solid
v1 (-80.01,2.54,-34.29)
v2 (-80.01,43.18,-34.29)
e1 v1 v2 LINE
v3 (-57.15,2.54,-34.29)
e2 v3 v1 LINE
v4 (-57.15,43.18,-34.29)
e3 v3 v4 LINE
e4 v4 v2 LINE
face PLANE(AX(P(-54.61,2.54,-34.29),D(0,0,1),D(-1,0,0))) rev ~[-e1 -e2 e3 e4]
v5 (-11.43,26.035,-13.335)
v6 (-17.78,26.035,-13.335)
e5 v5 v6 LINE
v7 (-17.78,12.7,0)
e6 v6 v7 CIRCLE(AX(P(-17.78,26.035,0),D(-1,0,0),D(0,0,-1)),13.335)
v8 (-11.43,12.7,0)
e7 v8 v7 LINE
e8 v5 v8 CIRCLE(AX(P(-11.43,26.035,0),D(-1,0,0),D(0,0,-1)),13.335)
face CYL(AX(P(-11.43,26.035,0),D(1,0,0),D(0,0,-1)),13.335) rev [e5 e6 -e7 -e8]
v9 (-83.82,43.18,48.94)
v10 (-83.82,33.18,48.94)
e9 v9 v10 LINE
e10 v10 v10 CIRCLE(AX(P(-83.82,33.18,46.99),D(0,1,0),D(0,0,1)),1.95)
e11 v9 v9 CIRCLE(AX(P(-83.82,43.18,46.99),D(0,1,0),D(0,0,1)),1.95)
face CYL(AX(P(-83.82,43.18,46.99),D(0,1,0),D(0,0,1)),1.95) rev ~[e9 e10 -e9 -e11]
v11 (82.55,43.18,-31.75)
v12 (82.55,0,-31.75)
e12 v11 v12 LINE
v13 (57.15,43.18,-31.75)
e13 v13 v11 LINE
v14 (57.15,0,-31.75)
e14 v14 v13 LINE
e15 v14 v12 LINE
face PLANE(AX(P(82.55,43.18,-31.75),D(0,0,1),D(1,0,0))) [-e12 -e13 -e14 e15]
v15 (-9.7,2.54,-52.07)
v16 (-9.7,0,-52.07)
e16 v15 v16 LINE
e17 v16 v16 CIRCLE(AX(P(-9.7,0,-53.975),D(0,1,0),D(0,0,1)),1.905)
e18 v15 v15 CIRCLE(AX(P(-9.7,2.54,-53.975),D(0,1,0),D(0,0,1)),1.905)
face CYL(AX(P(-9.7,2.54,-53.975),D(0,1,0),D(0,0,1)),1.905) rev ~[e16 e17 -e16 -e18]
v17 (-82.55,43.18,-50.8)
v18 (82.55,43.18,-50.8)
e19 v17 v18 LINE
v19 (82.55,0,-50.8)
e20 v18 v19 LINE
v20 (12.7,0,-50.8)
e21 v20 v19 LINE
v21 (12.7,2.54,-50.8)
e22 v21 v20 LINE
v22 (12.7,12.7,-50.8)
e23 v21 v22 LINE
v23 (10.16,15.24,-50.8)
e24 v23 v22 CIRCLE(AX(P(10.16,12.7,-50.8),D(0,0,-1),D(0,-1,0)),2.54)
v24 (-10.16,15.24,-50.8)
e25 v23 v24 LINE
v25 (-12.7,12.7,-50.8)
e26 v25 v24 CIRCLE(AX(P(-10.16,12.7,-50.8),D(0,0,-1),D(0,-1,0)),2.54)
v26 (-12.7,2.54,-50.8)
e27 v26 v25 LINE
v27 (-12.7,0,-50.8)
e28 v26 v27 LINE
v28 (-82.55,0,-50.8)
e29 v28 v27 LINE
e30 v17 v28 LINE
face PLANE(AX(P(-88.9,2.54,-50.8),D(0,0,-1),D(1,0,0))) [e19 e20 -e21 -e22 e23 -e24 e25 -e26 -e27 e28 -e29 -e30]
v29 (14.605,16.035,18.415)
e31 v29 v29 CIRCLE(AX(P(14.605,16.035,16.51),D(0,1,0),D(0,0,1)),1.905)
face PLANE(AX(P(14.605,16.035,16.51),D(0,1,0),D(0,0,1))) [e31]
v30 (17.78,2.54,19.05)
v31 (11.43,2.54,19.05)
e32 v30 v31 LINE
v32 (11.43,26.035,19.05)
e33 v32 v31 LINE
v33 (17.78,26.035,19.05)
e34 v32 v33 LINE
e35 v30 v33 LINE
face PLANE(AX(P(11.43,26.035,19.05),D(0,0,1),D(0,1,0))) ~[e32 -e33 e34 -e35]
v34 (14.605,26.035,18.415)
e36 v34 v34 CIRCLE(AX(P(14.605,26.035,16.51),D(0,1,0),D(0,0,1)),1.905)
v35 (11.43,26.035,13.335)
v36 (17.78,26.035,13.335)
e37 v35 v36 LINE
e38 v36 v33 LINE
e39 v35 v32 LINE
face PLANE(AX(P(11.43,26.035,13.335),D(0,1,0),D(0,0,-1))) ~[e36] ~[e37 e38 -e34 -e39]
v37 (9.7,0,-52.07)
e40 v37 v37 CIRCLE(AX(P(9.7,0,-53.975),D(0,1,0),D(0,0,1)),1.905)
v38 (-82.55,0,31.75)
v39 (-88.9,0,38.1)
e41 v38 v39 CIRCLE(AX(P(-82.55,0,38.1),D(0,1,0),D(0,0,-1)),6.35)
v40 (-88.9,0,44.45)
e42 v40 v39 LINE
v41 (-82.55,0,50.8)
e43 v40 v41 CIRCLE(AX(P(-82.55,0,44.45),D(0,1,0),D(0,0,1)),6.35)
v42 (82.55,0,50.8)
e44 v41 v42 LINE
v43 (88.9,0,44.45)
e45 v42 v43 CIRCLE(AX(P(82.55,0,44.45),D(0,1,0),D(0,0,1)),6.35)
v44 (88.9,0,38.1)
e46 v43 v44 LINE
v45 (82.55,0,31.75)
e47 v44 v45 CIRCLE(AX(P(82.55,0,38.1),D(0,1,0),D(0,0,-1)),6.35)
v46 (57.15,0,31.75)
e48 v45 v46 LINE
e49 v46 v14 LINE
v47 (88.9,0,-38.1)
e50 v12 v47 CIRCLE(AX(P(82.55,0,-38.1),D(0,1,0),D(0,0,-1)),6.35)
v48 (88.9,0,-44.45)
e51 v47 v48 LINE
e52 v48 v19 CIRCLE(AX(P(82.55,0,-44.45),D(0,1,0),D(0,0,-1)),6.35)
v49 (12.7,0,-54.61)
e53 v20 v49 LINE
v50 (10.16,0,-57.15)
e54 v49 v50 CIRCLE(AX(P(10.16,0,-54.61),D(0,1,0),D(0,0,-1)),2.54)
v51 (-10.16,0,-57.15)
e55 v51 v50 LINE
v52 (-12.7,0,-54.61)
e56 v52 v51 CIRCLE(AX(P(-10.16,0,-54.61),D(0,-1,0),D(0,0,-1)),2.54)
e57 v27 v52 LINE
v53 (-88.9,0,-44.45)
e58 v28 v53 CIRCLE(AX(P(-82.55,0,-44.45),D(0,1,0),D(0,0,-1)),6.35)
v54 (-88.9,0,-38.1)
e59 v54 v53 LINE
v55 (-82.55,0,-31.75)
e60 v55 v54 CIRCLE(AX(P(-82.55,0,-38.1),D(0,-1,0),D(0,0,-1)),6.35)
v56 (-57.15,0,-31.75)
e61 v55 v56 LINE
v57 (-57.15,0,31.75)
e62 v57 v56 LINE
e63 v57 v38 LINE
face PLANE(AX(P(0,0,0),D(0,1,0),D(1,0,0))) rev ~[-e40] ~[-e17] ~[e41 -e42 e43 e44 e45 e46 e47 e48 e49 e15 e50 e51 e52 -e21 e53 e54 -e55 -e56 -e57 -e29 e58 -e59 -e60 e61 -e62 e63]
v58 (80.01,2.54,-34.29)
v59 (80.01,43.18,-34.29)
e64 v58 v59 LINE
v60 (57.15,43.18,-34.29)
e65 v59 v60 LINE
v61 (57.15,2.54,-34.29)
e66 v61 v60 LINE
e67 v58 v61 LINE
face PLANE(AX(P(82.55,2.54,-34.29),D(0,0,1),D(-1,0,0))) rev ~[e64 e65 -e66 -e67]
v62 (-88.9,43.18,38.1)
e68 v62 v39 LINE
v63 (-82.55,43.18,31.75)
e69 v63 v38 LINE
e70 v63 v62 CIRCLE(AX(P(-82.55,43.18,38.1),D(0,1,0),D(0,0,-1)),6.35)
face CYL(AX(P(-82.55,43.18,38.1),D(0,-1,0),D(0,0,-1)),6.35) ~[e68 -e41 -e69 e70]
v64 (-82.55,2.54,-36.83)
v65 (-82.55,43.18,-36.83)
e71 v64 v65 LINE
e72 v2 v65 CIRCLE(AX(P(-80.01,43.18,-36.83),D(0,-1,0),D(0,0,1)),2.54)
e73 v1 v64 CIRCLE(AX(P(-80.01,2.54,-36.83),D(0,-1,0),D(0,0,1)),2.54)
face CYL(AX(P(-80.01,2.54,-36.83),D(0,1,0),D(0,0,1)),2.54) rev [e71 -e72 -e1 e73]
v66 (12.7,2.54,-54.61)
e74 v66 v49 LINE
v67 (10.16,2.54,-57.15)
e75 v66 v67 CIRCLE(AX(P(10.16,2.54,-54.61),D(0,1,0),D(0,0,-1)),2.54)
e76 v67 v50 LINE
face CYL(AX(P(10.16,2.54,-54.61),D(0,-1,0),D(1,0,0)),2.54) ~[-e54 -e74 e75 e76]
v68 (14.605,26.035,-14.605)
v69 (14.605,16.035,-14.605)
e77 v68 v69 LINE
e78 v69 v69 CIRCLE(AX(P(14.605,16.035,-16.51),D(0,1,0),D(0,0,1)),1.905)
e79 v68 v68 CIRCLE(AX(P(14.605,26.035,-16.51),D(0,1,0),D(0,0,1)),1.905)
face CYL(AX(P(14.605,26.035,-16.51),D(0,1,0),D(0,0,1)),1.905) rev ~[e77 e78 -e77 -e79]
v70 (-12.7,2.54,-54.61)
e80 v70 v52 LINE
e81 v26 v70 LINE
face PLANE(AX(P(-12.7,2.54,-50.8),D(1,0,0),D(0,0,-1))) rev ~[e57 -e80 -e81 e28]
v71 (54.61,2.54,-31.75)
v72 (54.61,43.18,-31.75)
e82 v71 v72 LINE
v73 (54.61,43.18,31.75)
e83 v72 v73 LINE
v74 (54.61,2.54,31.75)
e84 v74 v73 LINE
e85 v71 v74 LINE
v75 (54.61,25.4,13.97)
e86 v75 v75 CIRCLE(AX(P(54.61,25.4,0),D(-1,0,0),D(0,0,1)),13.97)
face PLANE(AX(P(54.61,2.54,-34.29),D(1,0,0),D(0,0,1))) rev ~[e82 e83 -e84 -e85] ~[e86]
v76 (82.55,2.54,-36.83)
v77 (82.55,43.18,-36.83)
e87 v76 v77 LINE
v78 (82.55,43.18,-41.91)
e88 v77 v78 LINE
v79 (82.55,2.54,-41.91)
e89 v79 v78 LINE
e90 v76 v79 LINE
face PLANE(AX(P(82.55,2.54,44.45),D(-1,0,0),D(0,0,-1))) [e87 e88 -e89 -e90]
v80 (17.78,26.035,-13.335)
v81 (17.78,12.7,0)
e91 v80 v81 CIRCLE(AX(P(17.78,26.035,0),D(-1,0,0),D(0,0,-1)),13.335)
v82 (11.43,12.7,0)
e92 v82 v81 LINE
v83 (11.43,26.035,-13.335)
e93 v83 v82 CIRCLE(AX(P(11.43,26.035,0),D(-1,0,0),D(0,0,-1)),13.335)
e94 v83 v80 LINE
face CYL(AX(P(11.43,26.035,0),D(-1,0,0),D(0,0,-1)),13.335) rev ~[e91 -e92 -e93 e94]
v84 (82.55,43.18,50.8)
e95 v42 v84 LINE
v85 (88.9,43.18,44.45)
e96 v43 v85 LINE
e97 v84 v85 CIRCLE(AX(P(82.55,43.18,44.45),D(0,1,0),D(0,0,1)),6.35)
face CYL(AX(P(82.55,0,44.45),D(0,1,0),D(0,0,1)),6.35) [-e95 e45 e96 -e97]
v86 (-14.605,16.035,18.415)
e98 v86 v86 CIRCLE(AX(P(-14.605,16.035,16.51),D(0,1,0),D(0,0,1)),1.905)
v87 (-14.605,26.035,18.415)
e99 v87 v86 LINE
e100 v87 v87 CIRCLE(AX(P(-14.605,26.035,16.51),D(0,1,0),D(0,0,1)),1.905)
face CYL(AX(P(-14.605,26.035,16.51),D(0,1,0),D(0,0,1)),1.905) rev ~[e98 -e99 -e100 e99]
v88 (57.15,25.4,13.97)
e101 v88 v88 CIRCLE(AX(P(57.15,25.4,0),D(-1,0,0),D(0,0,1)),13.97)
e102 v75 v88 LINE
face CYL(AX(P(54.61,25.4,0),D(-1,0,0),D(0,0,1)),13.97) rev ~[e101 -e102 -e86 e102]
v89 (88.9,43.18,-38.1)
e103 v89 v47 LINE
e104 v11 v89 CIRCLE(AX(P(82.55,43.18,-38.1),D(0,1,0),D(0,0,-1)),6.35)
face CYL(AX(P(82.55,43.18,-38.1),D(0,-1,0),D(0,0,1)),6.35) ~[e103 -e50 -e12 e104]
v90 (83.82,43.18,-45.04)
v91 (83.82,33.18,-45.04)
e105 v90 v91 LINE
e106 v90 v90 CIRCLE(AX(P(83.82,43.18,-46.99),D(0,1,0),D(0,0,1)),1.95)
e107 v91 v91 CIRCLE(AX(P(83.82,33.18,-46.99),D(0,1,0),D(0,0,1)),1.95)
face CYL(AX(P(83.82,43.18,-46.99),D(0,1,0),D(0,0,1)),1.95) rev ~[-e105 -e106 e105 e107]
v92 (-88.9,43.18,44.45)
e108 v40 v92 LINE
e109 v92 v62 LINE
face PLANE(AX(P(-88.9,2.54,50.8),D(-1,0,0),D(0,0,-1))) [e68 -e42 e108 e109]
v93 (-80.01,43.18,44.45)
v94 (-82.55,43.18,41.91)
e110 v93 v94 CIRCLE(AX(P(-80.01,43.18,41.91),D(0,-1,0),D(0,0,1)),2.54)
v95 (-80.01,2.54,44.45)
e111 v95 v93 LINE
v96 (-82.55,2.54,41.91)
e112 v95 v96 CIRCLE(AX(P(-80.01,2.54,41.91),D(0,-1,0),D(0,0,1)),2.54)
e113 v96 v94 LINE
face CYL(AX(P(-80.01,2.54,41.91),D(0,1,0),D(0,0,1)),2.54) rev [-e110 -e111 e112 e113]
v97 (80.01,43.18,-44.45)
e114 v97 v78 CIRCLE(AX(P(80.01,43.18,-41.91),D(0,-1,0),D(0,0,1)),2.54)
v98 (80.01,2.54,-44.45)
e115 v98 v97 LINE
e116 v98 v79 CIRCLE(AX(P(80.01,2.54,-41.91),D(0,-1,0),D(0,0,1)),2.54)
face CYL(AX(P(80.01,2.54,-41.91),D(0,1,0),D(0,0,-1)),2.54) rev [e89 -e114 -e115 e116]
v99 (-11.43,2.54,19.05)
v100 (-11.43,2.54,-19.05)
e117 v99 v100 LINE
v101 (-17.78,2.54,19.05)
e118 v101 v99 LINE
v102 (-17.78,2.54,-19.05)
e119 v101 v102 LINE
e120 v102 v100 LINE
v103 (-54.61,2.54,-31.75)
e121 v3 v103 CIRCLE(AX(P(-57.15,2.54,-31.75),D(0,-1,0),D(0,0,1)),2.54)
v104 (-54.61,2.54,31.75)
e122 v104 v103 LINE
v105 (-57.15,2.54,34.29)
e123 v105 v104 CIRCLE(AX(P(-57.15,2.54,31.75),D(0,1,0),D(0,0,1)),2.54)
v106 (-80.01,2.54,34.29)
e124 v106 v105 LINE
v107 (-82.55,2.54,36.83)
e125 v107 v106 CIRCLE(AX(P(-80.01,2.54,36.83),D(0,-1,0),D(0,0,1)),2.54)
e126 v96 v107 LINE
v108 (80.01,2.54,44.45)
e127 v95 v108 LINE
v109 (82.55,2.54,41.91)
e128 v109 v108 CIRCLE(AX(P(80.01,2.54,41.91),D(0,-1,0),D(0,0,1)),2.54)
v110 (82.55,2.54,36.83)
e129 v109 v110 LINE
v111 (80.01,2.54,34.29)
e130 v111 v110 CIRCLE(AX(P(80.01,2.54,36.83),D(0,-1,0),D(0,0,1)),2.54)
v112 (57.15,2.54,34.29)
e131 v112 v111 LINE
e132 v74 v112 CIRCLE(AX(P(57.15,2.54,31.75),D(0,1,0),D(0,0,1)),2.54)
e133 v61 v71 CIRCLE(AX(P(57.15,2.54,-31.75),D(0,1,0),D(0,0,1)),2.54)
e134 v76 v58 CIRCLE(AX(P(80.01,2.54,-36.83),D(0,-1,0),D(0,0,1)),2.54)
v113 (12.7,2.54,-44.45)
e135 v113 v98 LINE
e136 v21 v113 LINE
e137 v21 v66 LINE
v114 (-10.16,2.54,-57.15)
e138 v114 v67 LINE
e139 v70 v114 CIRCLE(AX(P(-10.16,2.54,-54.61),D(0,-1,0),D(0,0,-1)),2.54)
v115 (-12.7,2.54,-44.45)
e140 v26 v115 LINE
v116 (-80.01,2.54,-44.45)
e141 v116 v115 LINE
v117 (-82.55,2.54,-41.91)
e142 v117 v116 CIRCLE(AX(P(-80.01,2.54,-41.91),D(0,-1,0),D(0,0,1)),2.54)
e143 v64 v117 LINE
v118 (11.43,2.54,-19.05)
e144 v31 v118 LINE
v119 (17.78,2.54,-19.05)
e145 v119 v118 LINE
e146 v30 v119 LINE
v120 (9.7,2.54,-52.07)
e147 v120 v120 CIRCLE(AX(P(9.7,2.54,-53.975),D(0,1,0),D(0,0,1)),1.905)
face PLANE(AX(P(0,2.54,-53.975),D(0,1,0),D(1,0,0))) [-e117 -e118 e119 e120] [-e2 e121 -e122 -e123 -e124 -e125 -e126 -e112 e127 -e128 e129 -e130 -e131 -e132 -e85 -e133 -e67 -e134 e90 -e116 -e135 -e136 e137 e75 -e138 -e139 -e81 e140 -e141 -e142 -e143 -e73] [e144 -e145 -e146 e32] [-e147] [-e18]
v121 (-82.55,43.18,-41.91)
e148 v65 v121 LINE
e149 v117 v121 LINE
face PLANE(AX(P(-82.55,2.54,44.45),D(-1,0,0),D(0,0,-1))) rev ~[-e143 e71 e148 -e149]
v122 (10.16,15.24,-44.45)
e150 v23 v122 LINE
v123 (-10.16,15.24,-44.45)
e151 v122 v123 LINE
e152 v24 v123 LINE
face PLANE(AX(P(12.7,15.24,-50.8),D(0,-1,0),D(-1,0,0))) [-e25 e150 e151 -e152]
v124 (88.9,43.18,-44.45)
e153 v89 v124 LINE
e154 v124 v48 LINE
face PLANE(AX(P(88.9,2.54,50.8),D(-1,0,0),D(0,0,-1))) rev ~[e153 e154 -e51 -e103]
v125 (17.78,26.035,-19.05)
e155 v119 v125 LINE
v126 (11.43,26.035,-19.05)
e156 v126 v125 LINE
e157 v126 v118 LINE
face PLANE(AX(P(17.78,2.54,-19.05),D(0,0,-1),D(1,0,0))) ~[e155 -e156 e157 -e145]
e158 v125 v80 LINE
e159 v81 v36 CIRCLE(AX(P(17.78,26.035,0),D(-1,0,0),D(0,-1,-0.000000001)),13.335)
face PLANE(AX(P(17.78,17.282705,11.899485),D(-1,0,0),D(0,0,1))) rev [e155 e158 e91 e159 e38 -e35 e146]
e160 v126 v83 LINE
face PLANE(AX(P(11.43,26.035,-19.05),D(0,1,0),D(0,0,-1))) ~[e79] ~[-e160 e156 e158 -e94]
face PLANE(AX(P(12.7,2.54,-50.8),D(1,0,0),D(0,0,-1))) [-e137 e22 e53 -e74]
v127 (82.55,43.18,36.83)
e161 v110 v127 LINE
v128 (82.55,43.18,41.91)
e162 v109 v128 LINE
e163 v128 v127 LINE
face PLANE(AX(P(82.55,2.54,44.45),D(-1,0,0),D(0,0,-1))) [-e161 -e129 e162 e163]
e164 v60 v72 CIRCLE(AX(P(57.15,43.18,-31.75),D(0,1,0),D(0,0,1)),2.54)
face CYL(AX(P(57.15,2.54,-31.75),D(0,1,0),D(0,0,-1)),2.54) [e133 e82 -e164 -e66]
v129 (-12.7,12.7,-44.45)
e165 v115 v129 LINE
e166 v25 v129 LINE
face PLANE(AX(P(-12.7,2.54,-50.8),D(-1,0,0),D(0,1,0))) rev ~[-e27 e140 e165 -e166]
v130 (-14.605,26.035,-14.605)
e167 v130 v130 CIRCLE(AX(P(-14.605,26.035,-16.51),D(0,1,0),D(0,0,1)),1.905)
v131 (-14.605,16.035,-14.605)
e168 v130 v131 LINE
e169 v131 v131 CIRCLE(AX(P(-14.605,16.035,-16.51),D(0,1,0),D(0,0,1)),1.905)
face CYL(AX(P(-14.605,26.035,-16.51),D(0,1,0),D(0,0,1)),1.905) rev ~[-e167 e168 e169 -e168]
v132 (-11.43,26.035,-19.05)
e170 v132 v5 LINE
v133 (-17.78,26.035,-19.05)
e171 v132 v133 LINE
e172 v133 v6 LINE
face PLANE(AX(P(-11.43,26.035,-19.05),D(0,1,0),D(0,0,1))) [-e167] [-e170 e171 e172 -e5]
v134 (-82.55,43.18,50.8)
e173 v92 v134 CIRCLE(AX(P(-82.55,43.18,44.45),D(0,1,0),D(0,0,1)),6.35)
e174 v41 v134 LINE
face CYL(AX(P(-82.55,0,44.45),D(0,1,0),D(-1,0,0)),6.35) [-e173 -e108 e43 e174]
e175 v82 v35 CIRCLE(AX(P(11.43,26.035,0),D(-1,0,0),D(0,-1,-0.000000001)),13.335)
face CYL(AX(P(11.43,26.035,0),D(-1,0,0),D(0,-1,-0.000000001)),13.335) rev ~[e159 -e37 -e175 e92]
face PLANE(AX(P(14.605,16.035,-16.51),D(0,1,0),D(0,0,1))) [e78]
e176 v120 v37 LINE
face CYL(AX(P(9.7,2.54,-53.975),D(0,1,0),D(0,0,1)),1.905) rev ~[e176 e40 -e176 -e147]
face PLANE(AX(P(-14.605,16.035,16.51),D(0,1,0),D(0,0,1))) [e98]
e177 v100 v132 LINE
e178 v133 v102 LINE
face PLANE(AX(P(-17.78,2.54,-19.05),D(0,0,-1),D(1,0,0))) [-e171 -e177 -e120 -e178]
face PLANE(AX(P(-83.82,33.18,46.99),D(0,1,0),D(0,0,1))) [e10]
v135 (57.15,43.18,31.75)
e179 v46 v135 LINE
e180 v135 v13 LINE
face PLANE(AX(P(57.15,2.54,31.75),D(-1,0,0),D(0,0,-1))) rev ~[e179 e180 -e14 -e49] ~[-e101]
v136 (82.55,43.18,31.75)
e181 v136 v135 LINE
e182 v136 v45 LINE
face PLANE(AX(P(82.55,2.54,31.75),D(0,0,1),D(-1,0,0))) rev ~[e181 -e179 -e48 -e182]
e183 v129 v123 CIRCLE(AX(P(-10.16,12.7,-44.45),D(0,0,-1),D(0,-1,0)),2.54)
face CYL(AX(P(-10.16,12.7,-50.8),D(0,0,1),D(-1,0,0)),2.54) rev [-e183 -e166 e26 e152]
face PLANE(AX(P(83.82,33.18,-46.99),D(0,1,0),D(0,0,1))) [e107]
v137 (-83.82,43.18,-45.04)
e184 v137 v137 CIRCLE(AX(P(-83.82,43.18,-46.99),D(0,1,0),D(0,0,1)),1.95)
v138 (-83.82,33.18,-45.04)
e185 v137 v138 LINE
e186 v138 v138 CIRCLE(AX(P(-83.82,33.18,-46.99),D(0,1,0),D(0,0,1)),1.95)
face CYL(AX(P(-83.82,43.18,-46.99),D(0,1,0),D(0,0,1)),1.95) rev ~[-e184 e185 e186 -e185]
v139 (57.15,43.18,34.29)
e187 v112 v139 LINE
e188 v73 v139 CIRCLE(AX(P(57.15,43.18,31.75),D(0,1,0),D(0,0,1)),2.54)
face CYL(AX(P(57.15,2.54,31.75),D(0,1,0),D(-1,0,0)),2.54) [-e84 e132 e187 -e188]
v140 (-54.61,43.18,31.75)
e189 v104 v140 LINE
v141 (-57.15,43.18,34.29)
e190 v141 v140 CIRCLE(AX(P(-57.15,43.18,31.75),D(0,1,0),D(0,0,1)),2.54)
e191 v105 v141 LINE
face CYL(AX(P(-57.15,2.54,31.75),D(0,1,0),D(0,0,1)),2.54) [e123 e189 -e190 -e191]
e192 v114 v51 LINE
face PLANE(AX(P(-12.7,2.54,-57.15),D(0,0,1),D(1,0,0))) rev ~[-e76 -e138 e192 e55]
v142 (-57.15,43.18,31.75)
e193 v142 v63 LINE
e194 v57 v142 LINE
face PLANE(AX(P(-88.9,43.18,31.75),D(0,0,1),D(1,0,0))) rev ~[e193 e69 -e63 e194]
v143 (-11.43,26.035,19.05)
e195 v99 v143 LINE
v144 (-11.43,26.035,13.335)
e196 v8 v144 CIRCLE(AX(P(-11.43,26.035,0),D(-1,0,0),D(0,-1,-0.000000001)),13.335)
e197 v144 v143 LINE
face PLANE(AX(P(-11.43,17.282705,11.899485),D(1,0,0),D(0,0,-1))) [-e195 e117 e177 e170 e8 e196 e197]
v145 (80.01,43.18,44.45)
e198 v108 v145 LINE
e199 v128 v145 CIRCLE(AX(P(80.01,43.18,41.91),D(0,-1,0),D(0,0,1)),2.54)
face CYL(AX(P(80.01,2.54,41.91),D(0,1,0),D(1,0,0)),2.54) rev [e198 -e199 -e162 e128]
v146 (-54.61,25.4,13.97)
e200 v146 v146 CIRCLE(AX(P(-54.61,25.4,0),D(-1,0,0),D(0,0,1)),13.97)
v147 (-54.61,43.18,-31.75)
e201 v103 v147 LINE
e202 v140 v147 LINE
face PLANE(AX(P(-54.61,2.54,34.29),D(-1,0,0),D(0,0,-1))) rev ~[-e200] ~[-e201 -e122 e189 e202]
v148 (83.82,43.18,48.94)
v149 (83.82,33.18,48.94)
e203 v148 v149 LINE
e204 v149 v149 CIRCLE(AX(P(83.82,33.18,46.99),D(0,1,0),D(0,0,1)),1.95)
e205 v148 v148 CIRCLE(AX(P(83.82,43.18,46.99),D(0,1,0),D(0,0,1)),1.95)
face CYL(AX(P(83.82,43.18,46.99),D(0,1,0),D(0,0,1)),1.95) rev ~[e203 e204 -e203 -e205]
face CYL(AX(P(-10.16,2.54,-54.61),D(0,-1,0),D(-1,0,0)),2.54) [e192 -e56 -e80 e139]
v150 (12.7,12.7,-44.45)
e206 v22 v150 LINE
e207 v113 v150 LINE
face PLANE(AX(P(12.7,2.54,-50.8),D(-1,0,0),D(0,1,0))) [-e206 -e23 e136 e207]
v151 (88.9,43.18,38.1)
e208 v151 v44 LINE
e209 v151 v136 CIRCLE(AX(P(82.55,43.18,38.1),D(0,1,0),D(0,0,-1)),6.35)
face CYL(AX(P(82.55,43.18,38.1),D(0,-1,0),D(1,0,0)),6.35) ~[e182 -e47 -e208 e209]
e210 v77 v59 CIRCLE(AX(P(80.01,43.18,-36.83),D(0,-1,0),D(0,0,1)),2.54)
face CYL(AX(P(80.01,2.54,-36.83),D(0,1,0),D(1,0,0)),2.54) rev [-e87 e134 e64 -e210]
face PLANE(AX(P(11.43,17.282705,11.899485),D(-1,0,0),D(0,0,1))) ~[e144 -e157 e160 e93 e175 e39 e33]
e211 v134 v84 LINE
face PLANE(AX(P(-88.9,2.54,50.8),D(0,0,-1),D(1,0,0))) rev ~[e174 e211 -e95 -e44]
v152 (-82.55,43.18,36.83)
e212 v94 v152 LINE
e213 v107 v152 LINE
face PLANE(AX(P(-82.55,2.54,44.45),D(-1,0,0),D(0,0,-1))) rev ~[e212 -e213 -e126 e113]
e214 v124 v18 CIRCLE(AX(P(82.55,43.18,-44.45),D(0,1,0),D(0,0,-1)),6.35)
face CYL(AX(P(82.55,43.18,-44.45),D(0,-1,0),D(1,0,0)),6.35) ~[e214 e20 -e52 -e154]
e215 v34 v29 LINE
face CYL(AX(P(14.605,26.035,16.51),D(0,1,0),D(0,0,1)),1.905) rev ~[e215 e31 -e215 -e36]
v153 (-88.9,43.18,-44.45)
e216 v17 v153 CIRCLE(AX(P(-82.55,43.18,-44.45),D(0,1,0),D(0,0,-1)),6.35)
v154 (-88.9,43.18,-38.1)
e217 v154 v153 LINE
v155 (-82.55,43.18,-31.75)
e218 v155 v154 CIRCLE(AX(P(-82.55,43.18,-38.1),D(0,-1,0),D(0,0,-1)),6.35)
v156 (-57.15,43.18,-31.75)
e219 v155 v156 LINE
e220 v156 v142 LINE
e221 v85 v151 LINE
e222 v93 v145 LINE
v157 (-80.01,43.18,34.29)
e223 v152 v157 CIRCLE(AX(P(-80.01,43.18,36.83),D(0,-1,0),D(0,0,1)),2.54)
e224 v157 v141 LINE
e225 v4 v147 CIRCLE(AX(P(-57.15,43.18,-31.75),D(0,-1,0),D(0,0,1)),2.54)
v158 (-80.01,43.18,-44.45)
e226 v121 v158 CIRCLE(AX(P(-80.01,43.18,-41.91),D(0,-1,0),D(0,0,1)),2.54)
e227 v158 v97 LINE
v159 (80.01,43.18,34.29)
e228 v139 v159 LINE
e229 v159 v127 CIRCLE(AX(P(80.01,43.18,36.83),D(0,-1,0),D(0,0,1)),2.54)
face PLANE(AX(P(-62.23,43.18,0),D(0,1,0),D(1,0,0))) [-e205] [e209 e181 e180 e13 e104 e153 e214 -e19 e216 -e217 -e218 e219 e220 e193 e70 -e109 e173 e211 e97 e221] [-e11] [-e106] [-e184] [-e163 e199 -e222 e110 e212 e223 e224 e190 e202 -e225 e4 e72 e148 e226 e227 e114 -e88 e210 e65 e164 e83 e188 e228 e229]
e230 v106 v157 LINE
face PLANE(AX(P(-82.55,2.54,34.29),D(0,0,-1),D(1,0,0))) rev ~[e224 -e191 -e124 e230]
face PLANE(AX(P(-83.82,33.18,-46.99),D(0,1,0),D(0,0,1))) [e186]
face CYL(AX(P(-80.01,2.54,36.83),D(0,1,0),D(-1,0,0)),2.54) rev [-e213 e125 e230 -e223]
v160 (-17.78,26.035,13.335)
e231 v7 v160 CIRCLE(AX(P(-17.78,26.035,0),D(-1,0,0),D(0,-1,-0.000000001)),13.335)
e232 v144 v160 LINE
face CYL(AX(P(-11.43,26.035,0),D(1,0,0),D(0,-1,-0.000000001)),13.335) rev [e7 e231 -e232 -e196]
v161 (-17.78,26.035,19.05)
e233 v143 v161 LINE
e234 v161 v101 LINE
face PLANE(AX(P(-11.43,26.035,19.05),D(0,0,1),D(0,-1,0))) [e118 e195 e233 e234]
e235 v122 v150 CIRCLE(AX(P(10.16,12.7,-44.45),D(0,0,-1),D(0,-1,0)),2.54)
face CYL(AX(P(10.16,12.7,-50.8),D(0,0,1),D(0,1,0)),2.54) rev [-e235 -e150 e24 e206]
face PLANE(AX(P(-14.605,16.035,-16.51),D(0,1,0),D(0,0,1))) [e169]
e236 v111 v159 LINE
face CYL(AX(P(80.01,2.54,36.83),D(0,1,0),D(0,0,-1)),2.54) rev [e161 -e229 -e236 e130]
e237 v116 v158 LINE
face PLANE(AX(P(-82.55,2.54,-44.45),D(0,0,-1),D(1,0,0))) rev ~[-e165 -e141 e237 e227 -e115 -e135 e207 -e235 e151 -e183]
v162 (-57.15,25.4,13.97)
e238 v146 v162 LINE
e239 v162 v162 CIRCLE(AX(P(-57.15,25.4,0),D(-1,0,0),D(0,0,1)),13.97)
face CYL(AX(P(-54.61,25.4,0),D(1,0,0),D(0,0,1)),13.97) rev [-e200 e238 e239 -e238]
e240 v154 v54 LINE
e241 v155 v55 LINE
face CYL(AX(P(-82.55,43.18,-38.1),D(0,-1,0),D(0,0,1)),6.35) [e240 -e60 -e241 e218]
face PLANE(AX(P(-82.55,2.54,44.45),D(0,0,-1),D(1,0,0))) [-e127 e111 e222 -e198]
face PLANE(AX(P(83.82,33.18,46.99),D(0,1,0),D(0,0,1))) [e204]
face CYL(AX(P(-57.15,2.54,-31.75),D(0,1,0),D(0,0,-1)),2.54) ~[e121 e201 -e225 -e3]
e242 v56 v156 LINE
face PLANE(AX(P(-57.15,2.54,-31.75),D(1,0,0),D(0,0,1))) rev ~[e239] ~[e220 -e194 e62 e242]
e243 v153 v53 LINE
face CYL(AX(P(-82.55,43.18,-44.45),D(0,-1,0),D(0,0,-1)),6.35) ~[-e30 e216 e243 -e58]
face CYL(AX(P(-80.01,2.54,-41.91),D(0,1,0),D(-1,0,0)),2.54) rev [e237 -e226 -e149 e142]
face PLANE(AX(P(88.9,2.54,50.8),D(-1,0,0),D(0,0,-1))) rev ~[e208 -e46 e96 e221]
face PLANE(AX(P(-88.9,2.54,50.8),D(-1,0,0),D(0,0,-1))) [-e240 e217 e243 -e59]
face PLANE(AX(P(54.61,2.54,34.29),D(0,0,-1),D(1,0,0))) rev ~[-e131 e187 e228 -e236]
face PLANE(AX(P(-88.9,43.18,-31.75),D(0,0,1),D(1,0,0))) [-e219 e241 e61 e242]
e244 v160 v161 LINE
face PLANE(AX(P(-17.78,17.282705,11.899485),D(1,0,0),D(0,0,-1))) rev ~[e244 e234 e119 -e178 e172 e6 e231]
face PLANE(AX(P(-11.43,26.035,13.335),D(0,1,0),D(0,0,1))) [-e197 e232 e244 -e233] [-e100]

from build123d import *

# Parameters (mm, degrees)
SKETCH1_W           = 177.8
SKETCH1_H           = 101.6
BOSS_EXTRUDE1_DEPTH = 2.54
SKETCH2_W           = 25.4
SKETCH2_H           = 63.5
CUT_EXTRUDE1_DEPTH  = 2.54
SKETCH3_W           = 177.8
SKETCH3_H           = 101.6
SKETCH3_W_2         = 165.1
SKETCH3_H_2         = 88.9
BOSS_EXTRUDE2_DEPTH = 40.64
BOSS_EXTRUDE3_DEPTH = 40.64
SKETCH8_W           = 6.35
SKETCH8_H           = 38.1
BOSS_EXTRUDE4_DEPTH = 10.16
BOSS_EXTRUDE5_DEPTH = 6.35
SKETCH10_W          = 6.35
SKETCH10_H          = 63.5
CUT_EXTRUDE2_DEPTH  = 107.696
SKETCH11_R          = 13.97
CUT_EXTRUDE5_DEPTH  = 2.54
FILLET1_R           = 6.35
FILLET2_R           = 2.54
SKETCH14_W          = 25.4
SKETCH14_H          = 6.35
BOSS_EXTRUDE6_DEPTH = 2.54
SKETCH15_R          = 1.905
CUT_EXTRUDE6_DEPTH  = 8.636
FILLET3_R           = 2.54
SKETCH16_R          = 1.95
CUT_EXTRUDE7_DEPTH  = 10
SKETCH17_R          = 1.905
CUT_EXTRUDE8_DEPTH  = 10
SKETCH18_W          = 25.4
SKETCH18_H          = 12.7
CUT_EXTRUDE9_DEPTH  = 10
FILLET4_R           = 2.54


with BuildPart() as part:
    # Sketch1 → Boss-Extrude1 (new body)
    with BuildSketch(Plane(origin=(0, 0, 0), x_dir=(1, 0, 0), z_dir=(0, 1, 0))):
        Rectangle(SKETCH1_W, SKETCH1_H)
    extrude(amount=BOSS_EXTRUDE1_DEPTH)

    # Sketch2 → Cut-Extrude1 (cut)
    with BuildSketch(Plane(origin=(0, 2.54, 0), x_dir=(1, 0, 0), z_dir=(0, 1, 0))):
        with Locations((-69.85, 0)):
            Rectangle(SKETCH2_W, SKETCH2_H)
        with Locations((69.85, 0)):
            Rectangle(SKETCH2_W, SKETCH2_H)
    extrude(amount=-CUT_EXTRUDE1_DEPTH, mode=Mode.SUBTRACT)

    # Sketch3 → Boss-Extrude2 (add)
    with BuildSketch(Plane(origin=(0, 2.54, 0), x_dir=(1, 0, 0), z_dir=(0, 1, 0))):
        Rectangle(SKETCH3_W, SKETCH3_H)
        Rectangle(SKETCH3_W_2, SKETCH3_H_2, mode=Mode.SUBTRACT)
    extrude(amount=BOSS_EXTRUDE2_DEPTH)

    # Sketch7 → Boss-Extrude3 (add)
    with BuildSketch(Plane(origin=(0, 2.54, 0), x_dir=(1, 0, 0), z_dir=(0, 1, 0))):
        Polygon((-54.61, 34.29), (-82.55, 34.29), (-82.55, 31.75), (-57.15, 31.75), (-57.15, -31.75), (-82.55, -31.75), (-82.55, -34.29), (-54.61, -34.29), align=None)
        Polygon((82.55, 34.29), (54.61, 34.29), (54.61, -34.29), (82.55, -34.29), (82.55, -31.75), (57.15, -31.75), (57.15, 31.75), (82.55, 31.75), align=None)
    extrude(amount=BOSS_EXTRUDE3_DEPTH)

    # Sketch8 → Boss-Extrude4 (add)
    with BuildSketch(Plane(origin=(0, 2.54, 0), x_dir=(1, 0, 0), z_dir=(0, 1, 0))):
        with Locations((-14.605, 0)):
            Rectangle(SKETCH8_W, SKETCH8_H)
    boss_extrude4 = extrude(amount=BOSS_EXTRUDE4_DEPTH)

    # Sketch9 → Boss-Extrude5 (add)
    with BuildSketch(Plane(origin=(-11.43, 0, 0), x_dir=(0, 0, -1), z_dir=(1, 0, 0))):
        with BuildLine():
            Line((-19.05, 26.035), (-19.05, 12.7))
            Line((-19.05, 12.7), (7e-09, 12.7))
            ThreePointArc((7e-09, 12.7), (-9.429268925, 16.60573107), (-13.335, 26.035))
            Line((-13.335, 26.035), (-19.05, 26.035))
        make_face()
        with BuildLine():
            ThreePointArc((13.335, 26.035), (9.42926893, 16.605731075), (7e-09, 12.7))
            Line((7e-09, 12.7), (19.05, 12.7))
            Line((19.05, 12.7), (19.05, 26.035))
            Line((19.05, 26.035), (13.335, 26.035))
        make_face()
    boss_extrude5 = extrude(amount=-BOSS_EXTRUDE5_DEPTH)

    # Sketch10 → Cut-Extrude2 (cut)
    with BuildSketch(Plane(origin=(0, 43.18, 0), x_dir=(1, 0, 0), z_dir=(0, 1, 0))):
        with Locations((-85.725, 0)):
            Rectangle(SKETCH10_W, SKETCH10_H)
        with Locations((85.725, 0)):
            Rectangle(SKETCH10_W, SKETCH10_H)
    extrude(amount=-CUT_EXTRUDE2_DEPTH, mode=Mode.SUBTRACT)

    # Mirror1: Boss-Extrude4, Boss-Extrude5 across plane
    add(boss_extrude4.mirror(Plane(origin=(0, 0, 0), x_dir=(0, 0, 1), z_dir=(1, 0, 0))))
    add(boss_extrude5.mirror(Plane(origin=(0, 0, 0), x_dir=(0, 0, 1), z_dir=(1, 0, 0))))

    # Sketch11 → Cut-Extrude5 (cut)
    with BuildSketch(Plane.ZY.offset(-54.61)):
        with Locations((0, 25.4)):
            Circle(SKETCH11_R)
    cut_extrude5 = extrude(amount=-CUT_EXTRUDE5_DEPTH, mode=Mode.SUBTRACT)

    # Mirror2: Cut-Extrude5 across plane
    add(cut_extrude5.mirror(Plane(origin=(0, 0, 0), x_dir=(0, 0, 1), z_dir=(1, 0, 0))), mode=Mode.SUBTRACT)

    # Fillet1
    fillet1_edges = [part.edges().sort_by_distance(p)[0] for p in [
        (-88.9, 21.59, 31.75),
        (-88.9, 21.59, -31.75),
        (88.9, 21.59, -31.75),
        (88.9, 21.59, 31.75),
        (88.9, 21.59, 50.8),
        (-88.9, 21.59, 50.8),
        (-88.9, 21.59, -50.8),
        (88.9, 21.59, -50.8),
    ]]
    fillet(fillet1_edges, radius=FILLET1_R)

    # Fillet2
    fillet2_edges = [part.edges().sort_by_distance(p)[0] for p in [
        (82.55, 22.86, -34.29),
        (-82.55, 22.86, 44.45),
        (82.55, 22.86, 44.45),
        (82.55, 22.86, -44.45),
        (-82.55, 22.86, -44.45),
        (-54.61, 22.86, 34.29),
        (-54.61, 22.86, -34.29),
        (-82.55, 22.86, -34.29),
        (-82.55, 22.86, 34.29),
        (54.61, 22.86, -34.29),
        (54.61, 22.86, 34.29),
        (82.55, 22.86, 34.29),
    ]]
    fillet(fillet2_edges, radius=FILLET2_R)

    # Sketch14 → Boss-Extrude6 (add)
    with BuildSketch(Plane(origin=(0, 2.54, 0), x_dir=(1, 0, 0), z_dir=(0, 1, 0))):
        with Locations((0, 53.975)):
            Rectangle(SKETCH14_W, SKETCH14_H)
    extrude(amount=-BOSS_EXTRUDE6_DEPTH)

    # Sketch15 → Cut-Extrude6 (cut)
    with BuildSketch(Plane(origin=(0, 2.54, 0), x_dir=(1, 0, 0), z_dir=(0, 1, 0))):
        with Locations(Location((-9.7, 53.975, 0), (0, 0, 270))):
            Circle(SKETCH15_R)
        with Locations(Location((9.7, 53.975, 0), (0, 0, 270))):
            Circle(SKETCH15_R)
    extrude(amount=-CUT_EXTRUDE6_DEPTH, mode=Mode.SUBTRACT)

    # Fillet3
    fillet3_edges = [part.edges().sort_by_distance(p)[0] for p in [
        (-12.7, 1.27, -57.15),
        (12.7, 1.27, -57.15),
    ]]
    fillet(fillet3_edges, radius=FILLET3_R)

    # Sketch16 → Cut-Extrude7 (cut)
    with BuildSketch(Plane(origin=(0, 43.18, 0), x_dir=(1, 0, 0), z_dir=(0, 1, 0))):
        with Locations(Location((-83.82, 46.99, 0), (0, 0, 270))):
            Circle(SKETCH16_R)
        with Locations(Location((83.82, 46.99, 0), (0, 0, 270))):
            Circle(SKETCH16_R)
        with Locations(Location((83.82, -46.99, 0), (0, 0, 270))):
            Circle(SKETCH16_R)
        with Locations(Location((-83.82, -46.99, 0), (0, 0, 270))):
            Circle(SKETCH16_R)
    extrude(amount=-CUT_EXTRUDE7_DEPTH, mode=Mode.SUBTRACT)

    # Sketch17 → Cut-Extrude8 (cut)
    with BuildSketch(Plane(origin=(0, 26.035, 0), x_dir=(1, 0, 0), z_dir=(0, 1, 0))):
        with Locations(Location((-14.605, 16.51, 0), (0, 0, 270))):
            Circle(SKETCH17_R)
        with Locations(Location((14.605, 16.51, 0), (0, 0, 270))):
            Circle(SKETCH17_R)
        with Locations(Location((14.605, -16.51, 0), (0, 0, 270))):
            Circle(SKETCH17_R)
        with Locations(Location((-14.605, -16.51, 0), (0, 0, 270))):
            Circle(SKETCH17_R)
    extrude(amount=-CUT_EXTRUDE8_DEPTH, mode=Mode.SUBTRACT)

    # Sketch18 → Cut-Extrude9 (cut)
    with BuildSketch(Plane(origin=(0, 0, -50.8), x_dir=(-1, 0, 0), z_dir=(0, 0, -1))):
        with Locations((0, 8.89)):
            Rectangle(SKETCH18_W, SKETCH18_H)
    extrude(amount=-CUT_EXTRUDE9_DEPTH, mode=Mode.SUBTRACT)

    # Fillet4
    fillet4_edges = [part.edges().sort_by_distance(p)[0] for p in [
        (12.7, 15.24, -47.625),
        (-12.7, 15.24, -47.625),
    ]]
    fillet(fillet4_edges, radius=FILLET4_R)


solid = part.part
